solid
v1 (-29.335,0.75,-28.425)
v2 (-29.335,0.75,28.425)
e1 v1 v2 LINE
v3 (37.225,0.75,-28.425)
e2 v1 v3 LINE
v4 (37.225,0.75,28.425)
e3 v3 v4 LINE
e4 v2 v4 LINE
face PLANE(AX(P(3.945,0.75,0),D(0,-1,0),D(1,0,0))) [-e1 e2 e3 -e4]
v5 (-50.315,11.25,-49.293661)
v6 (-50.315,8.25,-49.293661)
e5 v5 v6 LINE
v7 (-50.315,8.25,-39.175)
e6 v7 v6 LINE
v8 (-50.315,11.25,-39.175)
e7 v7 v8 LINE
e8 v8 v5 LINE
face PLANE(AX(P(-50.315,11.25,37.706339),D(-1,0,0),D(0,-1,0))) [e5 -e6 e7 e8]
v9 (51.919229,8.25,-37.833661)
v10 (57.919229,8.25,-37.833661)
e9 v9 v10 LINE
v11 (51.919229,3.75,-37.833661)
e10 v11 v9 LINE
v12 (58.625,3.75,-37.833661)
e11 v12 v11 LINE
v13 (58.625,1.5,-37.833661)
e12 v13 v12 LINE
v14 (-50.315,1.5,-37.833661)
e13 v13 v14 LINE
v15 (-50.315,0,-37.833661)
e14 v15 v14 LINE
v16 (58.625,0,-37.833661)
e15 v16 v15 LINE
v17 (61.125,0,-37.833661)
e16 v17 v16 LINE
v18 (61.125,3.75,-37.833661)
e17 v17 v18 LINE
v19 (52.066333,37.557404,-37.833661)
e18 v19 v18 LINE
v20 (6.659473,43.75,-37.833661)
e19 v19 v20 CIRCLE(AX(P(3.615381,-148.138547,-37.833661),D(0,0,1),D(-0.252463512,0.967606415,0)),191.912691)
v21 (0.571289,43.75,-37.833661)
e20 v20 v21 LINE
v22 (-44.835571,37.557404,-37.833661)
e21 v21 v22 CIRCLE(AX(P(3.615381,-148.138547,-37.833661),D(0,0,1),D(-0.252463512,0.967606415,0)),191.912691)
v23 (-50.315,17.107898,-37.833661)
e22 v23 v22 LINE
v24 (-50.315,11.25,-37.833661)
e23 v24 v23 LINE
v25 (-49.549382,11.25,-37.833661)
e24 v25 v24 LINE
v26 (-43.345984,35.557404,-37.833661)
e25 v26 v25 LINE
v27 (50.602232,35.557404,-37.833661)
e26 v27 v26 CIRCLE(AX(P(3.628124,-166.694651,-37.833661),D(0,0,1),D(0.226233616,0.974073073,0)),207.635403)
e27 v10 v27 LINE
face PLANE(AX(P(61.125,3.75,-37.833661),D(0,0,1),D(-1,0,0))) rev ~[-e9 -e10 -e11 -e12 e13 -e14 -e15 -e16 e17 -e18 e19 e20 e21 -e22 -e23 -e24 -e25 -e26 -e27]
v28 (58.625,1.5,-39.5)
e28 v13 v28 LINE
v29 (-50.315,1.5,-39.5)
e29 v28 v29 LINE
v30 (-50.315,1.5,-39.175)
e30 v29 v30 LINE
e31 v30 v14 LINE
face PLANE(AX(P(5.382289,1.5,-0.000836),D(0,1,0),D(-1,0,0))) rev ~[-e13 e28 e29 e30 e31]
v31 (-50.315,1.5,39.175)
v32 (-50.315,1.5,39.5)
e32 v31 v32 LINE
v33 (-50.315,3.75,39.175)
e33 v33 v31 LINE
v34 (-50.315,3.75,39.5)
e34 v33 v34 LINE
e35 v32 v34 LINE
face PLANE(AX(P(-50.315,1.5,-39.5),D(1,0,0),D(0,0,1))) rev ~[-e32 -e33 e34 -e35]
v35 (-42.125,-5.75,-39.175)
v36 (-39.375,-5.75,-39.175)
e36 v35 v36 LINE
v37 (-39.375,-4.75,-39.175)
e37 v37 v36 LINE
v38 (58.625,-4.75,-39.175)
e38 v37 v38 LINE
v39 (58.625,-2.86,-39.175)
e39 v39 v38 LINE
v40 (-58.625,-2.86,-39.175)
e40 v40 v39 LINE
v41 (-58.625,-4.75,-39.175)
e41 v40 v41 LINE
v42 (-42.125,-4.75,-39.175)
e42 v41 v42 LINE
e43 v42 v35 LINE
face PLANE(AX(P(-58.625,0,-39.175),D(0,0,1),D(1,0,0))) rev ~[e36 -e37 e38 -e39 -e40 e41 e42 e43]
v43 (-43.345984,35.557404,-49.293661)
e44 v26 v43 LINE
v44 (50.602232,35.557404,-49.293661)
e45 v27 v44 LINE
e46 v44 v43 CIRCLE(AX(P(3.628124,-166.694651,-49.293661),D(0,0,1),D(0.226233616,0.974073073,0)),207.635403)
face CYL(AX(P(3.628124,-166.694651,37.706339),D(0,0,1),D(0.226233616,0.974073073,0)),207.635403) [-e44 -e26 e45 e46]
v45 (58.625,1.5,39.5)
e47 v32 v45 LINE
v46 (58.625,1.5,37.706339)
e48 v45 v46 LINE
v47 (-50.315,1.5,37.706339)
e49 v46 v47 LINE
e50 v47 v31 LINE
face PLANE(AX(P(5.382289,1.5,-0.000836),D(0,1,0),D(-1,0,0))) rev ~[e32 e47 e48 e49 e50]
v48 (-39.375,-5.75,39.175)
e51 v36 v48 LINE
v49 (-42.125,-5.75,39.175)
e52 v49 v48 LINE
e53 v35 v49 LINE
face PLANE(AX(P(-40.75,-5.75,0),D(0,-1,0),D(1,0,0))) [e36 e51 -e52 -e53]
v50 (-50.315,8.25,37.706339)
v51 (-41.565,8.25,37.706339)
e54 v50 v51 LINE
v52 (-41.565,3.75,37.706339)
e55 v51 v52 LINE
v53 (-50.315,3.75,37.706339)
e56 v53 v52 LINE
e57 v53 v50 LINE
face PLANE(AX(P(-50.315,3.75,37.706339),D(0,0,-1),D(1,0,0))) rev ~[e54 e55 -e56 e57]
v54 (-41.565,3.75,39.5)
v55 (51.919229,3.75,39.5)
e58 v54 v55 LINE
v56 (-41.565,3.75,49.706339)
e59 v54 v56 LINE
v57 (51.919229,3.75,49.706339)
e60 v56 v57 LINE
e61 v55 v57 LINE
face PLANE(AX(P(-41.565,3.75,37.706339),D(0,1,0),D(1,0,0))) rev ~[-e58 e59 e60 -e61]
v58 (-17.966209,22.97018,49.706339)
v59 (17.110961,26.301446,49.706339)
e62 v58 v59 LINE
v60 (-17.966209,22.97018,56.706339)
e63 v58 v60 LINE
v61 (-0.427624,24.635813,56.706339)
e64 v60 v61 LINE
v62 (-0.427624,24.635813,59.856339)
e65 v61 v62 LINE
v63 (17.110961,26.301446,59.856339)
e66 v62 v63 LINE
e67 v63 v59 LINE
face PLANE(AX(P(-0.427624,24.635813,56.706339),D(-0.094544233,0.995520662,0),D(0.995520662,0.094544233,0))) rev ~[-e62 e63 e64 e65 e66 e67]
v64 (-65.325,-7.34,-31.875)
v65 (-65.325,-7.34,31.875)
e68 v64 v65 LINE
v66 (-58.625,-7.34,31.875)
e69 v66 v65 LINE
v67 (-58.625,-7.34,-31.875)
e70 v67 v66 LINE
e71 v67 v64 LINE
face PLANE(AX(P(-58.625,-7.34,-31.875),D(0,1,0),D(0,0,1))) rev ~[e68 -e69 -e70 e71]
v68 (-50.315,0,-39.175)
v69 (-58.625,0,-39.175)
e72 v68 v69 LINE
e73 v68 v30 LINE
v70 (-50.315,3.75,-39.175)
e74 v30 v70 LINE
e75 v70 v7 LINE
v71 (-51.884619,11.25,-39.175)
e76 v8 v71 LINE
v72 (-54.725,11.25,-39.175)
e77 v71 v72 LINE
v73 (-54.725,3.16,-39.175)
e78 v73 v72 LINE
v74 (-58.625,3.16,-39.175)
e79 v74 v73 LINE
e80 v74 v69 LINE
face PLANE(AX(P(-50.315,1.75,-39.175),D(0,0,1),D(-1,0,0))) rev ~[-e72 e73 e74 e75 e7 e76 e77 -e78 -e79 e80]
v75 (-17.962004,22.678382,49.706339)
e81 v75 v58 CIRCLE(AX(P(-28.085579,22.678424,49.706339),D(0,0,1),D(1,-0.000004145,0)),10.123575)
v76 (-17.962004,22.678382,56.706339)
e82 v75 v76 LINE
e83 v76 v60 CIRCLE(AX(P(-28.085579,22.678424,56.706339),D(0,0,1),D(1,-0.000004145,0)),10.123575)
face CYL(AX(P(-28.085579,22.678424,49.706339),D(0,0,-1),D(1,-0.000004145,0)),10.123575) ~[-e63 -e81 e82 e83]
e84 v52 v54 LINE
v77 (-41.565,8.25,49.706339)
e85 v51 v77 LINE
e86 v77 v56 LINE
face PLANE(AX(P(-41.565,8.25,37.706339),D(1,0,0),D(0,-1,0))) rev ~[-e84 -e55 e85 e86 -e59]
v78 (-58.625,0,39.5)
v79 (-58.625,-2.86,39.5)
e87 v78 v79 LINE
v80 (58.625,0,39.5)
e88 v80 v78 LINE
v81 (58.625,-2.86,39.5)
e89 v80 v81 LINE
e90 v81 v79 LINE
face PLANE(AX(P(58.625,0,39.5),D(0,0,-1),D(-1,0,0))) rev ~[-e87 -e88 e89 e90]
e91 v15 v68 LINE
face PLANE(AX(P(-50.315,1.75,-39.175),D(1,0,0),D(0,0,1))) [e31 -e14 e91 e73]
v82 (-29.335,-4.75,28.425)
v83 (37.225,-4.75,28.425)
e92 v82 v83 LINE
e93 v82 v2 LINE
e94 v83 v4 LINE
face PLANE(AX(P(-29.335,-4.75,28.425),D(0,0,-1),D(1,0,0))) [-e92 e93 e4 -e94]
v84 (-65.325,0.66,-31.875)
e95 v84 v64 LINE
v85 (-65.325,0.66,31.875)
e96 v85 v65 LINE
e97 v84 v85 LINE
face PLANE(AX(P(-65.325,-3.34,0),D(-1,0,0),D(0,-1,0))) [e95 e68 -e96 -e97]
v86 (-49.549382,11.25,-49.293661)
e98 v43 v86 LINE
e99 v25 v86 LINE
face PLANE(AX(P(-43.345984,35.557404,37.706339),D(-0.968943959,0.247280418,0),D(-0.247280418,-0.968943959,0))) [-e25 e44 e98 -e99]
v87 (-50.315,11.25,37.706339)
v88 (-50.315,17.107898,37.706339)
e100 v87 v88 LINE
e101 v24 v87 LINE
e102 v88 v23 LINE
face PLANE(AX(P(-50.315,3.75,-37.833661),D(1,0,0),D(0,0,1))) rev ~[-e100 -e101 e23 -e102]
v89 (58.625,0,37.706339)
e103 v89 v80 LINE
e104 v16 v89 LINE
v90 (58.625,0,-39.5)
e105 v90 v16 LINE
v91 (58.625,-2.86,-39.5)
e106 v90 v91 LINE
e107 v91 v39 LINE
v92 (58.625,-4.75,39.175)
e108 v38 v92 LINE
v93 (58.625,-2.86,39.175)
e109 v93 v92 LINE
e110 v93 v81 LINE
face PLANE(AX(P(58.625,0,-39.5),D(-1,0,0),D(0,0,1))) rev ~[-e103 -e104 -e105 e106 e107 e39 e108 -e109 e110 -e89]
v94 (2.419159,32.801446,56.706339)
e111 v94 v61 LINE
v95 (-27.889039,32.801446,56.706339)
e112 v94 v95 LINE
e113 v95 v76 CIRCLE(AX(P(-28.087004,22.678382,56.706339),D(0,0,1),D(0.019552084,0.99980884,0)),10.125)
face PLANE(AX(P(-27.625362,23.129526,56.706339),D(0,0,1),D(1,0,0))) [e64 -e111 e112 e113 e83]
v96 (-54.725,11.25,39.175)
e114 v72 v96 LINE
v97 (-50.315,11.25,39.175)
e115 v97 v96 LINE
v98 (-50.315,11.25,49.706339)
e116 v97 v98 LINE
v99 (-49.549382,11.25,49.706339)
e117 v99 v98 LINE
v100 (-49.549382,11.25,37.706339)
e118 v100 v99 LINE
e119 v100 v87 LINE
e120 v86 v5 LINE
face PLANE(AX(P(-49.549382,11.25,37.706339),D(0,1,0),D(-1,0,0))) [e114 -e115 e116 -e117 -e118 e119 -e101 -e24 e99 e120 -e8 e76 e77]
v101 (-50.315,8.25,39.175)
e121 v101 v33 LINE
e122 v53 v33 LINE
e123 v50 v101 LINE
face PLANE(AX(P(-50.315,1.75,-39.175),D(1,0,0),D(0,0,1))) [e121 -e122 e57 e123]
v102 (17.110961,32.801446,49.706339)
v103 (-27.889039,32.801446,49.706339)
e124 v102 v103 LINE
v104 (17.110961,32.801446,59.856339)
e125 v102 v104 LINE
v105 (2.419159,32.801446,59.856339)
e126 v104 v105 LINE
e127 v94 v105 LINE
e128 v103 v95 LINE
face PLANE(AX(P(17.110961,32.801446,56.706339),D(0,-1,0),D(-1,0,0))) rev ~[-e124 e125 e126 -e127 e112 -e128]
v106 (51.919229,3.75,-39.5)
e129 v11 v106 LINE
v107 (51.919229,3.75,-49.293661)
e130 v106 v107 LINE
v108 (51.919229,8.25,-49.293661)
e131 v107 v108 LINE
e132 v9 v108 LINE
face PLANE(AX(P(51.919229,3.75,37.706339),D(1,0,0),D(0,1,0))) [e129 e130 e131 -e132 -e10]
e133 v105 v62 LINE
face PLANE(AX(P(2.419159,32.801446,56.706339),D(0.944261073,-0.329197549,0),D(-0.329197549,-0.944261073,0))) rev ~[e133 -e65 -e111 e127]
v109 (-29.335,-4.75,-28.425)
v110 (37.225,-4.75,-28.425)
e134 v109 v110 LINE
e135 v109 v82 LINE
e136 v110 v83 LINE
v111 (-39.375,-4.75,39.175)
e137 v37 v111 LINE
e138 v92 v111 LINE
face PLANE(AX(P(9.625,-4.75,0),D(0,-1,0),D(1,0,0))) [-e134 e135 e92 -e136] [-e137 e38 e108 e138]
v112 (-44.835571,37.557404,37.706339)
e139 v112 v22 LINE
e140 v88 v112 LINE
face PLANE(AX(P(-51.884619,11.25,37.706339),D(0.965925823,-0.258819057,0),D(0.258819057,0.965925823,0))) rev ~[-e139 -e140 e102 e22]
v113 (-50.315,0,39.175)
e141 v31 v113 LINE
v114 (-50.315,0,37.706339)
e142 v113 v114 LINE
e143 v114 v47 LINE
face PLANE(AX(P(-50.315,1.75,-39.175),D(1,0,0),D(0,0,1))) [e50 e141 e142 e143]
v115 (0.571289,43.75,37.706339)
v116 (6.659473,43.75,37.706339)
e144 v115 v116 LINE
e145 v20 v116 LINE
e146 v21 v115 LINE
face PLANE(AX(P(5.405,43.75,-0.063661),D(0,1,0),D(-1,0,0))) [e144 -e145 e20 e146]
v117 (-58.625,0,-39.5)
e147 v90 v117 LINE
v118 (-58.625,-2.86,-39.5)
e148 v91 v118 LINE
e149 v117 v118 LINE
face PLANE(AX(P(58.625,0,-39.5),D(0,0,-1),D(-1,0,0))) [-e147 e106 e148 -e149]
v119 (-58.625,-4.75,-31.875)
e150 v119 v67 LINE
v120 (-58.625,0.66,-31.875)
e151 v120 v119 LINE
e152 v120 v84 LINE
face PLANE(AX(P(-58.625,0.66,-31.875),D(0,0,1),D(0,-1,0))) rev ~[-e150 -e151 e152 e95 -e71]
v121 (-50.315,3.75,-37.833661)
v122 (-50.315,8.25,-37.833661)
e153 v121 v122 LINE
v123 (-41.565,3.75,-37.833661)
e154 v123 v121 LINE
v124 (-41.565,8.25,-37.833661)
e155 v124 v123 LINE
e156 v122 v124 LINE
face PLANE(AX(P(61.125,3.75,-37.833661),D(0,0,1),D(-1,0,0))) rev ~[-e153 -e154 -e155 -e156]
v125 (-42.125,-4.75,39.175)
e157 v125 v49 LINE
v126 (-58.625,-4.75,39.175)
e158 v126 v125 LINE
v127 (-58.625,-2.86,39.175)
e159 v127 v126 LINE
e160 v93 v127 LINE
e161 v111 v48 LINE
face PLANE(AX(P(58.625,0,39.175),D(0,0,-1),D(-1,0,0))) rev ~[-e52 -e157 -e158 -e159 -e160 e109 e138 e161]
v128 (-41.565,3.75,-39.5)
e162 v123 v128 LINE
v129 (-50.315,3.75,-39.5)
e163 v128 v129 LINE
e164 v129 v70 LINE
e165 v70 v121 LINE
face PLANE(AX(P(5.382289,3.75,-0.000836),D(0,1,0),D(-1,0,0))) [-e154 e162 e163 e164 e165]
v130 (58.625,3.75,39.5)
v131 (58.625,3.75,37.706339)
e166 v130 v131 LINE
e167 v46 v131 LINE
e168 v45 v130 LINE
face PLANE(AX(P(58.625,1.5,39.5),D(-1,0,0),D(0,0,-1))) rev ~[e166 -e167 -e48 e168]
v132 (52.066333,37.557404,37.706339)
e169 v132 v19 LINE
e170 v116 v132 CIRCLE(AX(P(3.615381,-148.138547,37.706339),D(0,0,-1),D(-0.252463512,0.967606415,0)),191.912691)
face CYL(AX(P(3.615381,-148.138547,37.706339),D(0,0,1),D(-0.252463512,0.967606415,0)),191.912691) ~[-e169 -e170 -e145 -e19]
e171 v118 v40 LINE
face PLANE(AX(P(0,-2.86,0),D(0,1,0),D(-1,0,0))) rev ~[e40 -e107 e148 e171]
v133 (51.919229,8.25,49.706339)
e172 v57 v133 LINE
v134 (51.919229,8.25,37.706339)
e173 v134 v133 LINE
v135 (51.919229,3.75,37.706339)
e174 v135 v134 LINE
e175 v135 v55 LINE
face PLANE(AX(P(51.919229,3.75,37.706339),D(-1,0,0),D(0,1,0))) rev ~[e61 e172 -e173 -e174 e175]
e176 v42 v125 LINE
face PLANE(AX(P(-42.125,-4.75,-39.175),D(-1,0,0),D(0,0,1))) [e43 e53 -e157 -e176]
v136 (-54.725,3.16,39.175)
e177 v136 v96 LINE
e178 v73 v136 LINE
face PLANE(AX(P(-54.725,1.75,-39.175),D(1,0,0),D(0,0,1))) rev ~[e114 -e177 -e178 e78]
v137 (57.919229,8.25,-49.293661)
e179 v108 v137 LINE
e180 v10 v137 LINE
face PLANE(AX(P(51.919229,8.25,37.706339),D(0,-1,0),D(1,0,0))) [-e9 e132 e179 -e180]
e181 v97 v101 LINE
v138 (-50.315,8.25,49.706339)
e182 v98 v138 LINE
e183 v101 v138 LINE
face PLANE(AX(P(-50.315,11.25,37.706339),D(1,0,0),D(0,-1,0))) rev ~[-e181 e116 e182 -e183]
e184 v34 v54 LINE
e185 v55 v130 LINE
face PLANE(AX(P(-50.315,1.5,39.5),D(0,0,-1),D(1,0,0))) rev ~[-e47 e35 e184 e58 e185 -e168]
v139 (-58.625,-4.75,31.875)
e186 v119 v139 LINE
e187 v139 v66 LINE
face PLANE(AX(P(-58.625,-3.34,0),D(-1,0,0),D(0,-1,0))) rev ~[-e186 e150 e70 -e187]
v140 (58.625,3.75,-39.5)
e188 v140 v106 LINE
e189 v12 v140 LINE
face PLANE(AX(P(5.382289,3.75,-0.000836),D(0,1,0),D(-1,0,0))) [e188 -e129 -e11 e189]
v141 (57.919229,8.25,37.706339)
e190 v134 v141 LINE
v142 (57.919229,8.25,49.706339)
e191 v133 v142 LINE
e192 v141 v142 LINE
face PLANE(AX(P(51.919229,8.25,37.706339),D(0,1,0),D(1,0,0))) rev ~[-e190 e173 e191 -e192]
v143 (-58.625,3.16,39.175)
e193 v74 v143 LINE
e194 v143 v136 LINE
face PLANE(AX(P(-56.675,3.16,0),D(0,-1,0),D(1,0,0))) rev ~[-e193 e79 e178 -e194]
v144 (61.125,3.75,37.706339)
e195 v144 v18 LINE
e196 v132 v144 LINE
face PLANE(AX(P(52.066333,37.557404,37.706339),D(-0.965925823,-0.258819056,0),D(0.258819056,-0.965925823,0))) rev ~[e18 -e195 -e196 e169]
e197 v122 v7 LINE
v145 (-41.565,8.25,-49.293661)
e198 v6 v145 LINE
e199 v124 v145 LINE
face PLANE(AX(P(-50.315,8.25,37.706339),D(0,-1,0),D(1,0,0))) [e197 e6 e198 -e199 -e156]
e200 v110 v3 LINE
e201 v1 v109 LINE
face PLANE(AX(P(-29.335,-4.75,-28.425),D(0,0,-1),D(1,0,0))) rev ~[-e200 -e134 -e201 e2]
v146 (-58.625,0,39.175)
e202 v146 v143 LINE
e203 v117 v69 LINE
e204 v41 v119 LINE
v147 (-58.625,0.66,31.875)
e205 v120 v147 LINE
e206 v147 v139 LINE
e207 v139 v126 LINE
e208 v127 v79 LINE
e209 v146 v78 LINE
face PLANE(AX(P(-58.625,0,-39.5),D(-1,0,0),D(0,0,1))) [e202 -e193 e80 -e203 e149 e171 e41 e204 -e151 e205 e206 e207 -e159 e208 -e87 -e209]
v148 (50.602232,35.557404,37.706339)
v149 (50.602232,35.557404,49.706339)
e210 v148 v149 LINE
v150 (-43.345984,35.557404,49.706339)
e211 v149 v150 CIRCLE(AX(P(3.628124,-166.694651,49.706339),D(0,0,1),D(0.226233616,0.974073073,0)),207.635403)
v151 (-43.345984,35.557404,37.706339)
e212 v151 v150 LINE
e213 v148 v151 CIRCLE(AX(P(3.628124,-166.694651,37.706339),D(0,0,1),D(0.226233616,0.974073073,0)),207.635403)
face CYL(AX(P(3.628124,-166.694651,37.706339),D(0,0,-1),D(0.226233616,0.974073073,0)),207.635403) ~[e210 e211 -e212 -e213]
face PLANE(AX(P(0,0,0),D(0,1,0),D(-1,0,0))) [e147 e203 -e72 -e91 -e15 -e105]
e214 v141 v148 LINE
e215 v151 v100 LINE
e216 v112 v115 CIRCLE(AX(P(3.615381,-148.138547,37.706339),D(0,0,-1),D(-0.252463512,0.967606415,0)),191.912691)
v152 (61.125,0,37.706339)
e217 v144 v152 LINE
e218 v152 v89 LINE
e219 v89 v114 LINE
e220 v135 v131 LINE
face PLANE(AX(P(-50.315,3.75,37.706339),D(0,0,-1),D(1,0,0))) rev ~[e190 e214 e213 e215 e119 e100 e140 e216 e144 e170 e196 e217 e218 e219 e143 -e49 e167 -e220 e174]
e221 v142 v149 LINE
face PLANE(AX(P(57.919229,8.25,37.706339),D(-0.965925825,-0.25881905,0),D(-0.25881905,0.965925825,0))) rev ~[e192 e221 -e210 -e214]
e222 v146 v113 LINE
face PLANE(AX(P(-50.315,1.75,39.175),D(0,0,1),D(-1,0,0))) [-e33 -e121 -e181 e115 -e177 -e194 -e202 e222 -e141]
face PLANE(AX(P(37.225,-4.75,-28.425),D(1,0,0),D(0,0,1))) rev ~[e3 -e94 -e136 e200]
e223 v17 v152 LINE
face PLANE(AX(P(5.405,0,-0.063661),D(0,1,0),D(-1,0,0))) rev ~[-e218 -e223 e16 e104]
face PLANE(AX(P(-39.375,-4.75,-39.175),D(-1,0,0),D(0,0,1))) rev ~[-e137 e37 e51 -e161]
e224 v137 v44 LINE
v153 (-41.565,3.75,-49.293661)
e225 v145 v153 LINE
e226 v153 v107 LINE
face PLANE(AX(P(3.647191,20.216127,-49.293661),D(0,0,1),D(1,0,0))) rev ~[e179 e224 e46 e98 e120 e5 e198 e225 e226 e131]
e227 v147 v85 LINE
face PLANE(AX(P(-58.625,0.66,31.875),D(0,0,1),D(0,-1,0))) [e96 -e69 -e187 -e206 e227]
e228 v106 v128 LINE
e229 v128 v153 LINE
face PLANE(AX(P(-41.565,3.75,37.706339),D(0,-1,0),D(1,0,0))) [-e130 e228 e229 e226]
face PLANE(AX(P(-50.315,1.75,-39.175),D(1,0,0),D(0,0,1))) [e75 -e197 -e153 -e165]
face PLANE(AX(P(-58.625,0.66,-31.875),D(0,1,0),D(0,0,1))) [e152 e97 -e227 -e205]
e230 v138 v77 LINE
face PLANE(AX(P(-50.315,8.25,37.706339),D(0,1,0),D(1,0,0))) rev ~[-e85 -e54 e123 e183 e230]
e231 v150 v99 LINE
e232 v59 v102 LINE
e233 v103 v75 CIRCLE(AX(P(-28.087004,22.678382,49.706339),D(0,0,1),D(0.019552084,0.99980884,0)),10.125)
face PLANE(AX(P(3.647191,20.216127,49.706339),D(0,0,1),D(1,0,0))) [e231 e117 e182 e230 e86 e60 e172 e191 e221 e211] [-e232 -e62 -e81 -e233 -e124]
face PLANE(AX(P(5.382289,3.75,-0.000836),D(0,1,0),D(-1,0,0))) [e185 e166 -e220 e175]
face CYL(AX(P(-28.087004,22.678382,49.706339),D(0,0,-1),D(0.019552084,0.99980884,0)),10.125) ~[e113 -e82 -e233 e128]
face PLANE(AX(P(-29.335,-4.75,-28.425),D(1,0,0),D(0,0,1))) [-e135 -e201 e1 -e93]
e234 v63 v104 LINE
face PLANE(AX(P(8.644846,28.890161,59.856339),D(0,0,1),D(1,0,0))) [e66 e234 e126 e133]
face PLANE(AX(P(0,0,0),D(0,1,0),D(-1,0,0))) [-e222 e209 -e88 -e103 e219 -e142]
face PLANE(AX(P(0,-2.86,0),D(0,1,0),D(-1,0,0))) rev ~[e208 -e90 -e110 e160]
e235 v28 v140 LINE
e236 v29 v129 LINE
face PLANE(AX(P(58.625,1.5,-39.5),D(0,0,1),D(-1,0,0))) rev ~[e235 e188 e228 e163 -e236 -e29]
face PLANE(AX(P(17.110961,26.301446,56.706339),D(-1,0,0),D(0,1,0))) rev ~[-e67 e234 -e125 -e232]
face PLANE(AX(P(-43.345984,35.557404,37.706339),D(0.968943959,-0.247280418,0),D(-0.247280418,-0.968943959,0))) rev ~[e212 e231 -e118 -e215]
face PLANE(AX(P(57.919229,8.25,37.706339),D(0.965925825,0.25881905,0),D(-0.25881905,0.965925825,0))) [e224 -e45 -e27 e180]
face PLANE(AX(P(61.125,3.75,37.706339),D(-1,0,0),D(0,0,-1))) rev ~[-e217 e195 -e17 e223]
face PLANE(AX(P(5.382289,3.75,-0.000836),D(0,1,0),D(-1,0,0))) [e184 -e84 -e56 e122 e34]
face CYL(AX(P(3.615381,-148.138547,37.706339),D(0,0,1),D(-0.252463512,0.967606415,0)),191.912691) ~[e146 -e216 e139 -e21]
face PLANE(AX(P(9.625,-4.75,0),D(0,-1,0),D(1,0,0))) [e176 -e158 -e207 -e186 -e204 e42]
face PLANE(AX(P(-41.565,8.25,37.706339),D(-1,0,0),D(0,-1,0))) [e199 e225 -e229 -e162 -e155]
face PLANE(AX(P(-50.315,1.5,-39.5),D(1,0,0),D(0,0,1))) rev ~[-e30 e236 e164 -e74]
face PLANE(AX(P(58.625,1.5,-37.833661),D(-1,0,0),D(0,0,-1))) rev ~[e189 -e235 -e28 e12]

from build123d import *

# Parameters (mm, degrees)
F0_W           = 98
F0_H           = 78.35
F0_W_2         = 2.5
F0_W_3         = 16.75
F1_DEPTH       = 4.75
F2_W           = 2.75
F2_H           = 78.35
F3_DEPTH       = 1
F4_W           = 66.56
F4_H           = 56.85
F5_DEPTH       = 25
F6_W           = 117.25
F6_H           = 79
F7_DEPTH       = 2.86
F8_W           = 3.9
F8_H           = 78.35
F9_DEPTH       = 7.91
F10_W          = 8.31
F10_H          = 78.35
F11_DEPTH      = 6.5
F12_W          = 111.44
F12_H          = 75.54
F13_DEPTH      = 1.5
F14_W          = 4.41
F14_H          = 78.35
F15_DEPTH      = 9.5
F17_DEPTH      = 2.25
F19_DEPTH      = 40
F21_DEPTH      = 95.3
F23_DEPTH      = 12
F23_DEPTH_BACK = 87
F25_DEPTH      = 7
F27_DEPTH      = 3.15
F28_W          = 8
F28_H          = 63.75
F29_DEPTH      = 6.7
F30_W          = 66.56
F30_H          = 56.85
F31_DEPTH      = 5.5


with BuildPart() as f1:
    # F0 (on Front) → F1 (new body)
    with BuildSketch(Plane.XZ):
        with Locations((9.625, 0)):
            Rectangle(F0_W, F0_H)
        with Locations((-40.625, 0)):
            Rectangle(F0_W_2, F0_H)
        with Locations((-50.25, 0)):
            Rectangle(F0_W_3, F0_H)
    extrude(amount=F1_DEPTH)

    # F2 (on face) → F3 (join)
    with BuildSketch(Plane.XZ.offset(4.75)):
        with Locations((-40.75, 0)):
            Rectangle(F2_W, F2_H)
    extrude(amount=F3_DEPTH)

    # F4 (on face) → F5 (cut)
    with BuildSketch(Plane.XZ.offset(4.75)):
        with Locations((3.945, 0)):
            Rectangle(F4_W, F4_H)
    extrude(amount=-F5_DEPTH, mode=Mode.SUBTRACT)

    # F6 (on face) → F7 (join)
    with BuildSketch(Plane(origin=(0, 0, 0), x_dir=(-1, 0, 0), z_dir=(0, 1, 0))):
        Rectangle(F6_W, F6_H)
    extrude(amount=-F7_DEPTH)

    # F8 (on face) → F9 (join)
    with BuildSketch(Plane.XZ.offset(4.75)):
        with Locations((-56.675, 0)):
            Rectangle(F8_W, F8_H)
    extrude(amount=-F9_DEPTH)

    # F10 (on face) → F11 (join)
    with BuildSketch(Plane.XZ.offset(4.75)):
        with Locations((-54.47, 0)):
            Rectangle(F10_W, F10_H)
    extrude(amount=-F11_DEPTH)

    # F12 (on face) → F13 (join)
    with BuildSketch(Plane(origin=(0, 0, 0), x_dir=(-1, 0, 0), z_dir=(0, 1, 0))):
        with Locations((-5.405, -0.063661)):
            Rectangle(F12_W, F12_H)
    extrude(amount=F13_DEPTH)

    # F14 (on face) → F15 (join)
    with BuildSketch(Plane(origin=(0, 1.75, 0), x_dir=(-1, 0, 0), z_dir=(0, 1, 0))):
        with Locations((52.52, 0)):
            Rectangle(F14_W, F14_H)
    extrude(amount=F15_DEPTH)

    # F16 (on face) → F17 (join)
    with BuildSketch(Plane(origin=(0, 1.5, 0), x_dir=(-1, 0, 0), z_dir=(0, 1, 0))):
        Polygon((50.315, 39.5), (-58.625, 39.5), (-58.625, 37.706339), (-61.125, 37.706339), (-61.125, -37.833661), (-58.625, -37.833661), (-58.625, -39.5), (50.315, -39.5), align=None)
    extrude(amount=F17_DEPTH)

    # F18 (on face) → F19 (join)
    with BuildSketch(Plane(origin=(0, 3.75, 0), x_dir=(-1, 0, 0), z_dir=(0, 1, 0))):
        Polygon((-58.625, 37.706339), (-61.125, 37.706339), (-61.125, -37.833661), (-58.625, -37.833661), (50.315, -37.833661), (50.315, 37.706339), align=None)
    extrude(amount=F19_DEPTH)

    # F20 (on face) → F21 (cut)
    with BuildSketch(Plane.XY.offset(37.706339)):
        with BuildLine():
            Line((52.066333, 37.557404), (61.125, 3.75))
            Line((61.125, 3.75), (71.237857, 49.97474))
            Line((71.237857, 49.97474), (-55.704342, 49.97474))
            Line((-55.704342, 49.97474), (-51.884619, 11.25))
            Line((-51.884619, 11.25), (-44.835571, 37.557404))
            ThreePointArc((-44.835571, 37.557404), (3.615381, 43.774144), (52.066333, 37.557404))
        make_face()
    extrude(amount=-F21_DEPTH, mode=Mode.SUBTRACT)

    # F22 (on face) → F23 (join, two sides)
    with BuildSketch(Plane.XY.offset(37.706339)) as f23_sk:
        with BuildLine():
            Line((-50.315, 11.25), (-50.315, 8.25))
            Line((-50.315, 8.25), (-41.565, 8.25))
            Line((-41.565, 8.25), (-41.565, 3.75))
            Line((-41.565, 3.75), (51.919229, 3.75))
            Line((51.919229, 3.75), (51.919229, 8.25))
            Line((51.919229, 8.25), (57.919229, 8.25))
            Line((57.919229, 8.25), (50.602232, 35.557404))
            ThreePointArc((50.602232, 35.557404), (3.628124, 40.940752), (-43.345984, 35.557404))
            Line((-43.345984, 35.557404), (-49.549382, 11.25))
            Line((-49.549382, 11.25), (-50.315, 11.25))
        make_face()
    extrude(amount=F23_DEPTH)
    extrude(f23_sk.sketch, amount=-F23_DEPTH_BACK)

    # F24 (on face) → F25 (join)
    with BuildSketch(Plane.XY.offset(49.706339)):
        with BuildLine():
            ThreePointArc((-27.889039, 32.801446), (-35.316112, 15.589262), (-17.962004, 22.678382))
            ThreePointArc((-17.962004, 22.678382), (-17.963055, 22.824296), (-17.966209, 22.97018))
            ThreePointArc((-17.966209, 22.97018), (-20.960809, 29.870946), (-27.889039, 32.801446))
        make_face()
        with BuildLine():
            ThreePointArc((-27.889039, 32.801446), (-20.960809, 29.870946), (-17.966209, 22.97018))
            Line((-17.966209, 22.97018), (17.110961, 26.301446))
            Line((17.110961, 26.301446), (17.110961, 32.801446))
            Line((17.110961, 32.801446), (-27.889039, 32.801446))
        make_face()
    extrude(amount=F25_DEPTH)

    # F26 (on face) → F27 (join)
    with BuildSketch(Plane.XY.offset(56.706339)):
        Polygon((17.110961, 26.301446), (17.110961, 32.801446), (2.419159, 32.801446), (-0.427624, 24.635813), align=None)
    extrude(amount=F27_DEPTH)

    # F28 (on face) → F29 (join)
    with BuildSketch(Plane(origin=(-58.625, 0, 0), x_dir=(0, -1, 0), z_dir=(-1, 0, 0))):
        with Locations((3.34, 0)):
            Rectangle(F28_W, F28_H)
    extrude(amount=F29_DEPTH)

    # F30 (on face) → F31 (cut)
    with BuildSketch(Plane.XZ.offset(4.75)):
        with Locations((3.945, 0)):
            Rectangle(F30_W, F30_H)
    extrude(amount=-F31_DEPTH, mode=Mode.SUBTRACT)


solid = f1.part
